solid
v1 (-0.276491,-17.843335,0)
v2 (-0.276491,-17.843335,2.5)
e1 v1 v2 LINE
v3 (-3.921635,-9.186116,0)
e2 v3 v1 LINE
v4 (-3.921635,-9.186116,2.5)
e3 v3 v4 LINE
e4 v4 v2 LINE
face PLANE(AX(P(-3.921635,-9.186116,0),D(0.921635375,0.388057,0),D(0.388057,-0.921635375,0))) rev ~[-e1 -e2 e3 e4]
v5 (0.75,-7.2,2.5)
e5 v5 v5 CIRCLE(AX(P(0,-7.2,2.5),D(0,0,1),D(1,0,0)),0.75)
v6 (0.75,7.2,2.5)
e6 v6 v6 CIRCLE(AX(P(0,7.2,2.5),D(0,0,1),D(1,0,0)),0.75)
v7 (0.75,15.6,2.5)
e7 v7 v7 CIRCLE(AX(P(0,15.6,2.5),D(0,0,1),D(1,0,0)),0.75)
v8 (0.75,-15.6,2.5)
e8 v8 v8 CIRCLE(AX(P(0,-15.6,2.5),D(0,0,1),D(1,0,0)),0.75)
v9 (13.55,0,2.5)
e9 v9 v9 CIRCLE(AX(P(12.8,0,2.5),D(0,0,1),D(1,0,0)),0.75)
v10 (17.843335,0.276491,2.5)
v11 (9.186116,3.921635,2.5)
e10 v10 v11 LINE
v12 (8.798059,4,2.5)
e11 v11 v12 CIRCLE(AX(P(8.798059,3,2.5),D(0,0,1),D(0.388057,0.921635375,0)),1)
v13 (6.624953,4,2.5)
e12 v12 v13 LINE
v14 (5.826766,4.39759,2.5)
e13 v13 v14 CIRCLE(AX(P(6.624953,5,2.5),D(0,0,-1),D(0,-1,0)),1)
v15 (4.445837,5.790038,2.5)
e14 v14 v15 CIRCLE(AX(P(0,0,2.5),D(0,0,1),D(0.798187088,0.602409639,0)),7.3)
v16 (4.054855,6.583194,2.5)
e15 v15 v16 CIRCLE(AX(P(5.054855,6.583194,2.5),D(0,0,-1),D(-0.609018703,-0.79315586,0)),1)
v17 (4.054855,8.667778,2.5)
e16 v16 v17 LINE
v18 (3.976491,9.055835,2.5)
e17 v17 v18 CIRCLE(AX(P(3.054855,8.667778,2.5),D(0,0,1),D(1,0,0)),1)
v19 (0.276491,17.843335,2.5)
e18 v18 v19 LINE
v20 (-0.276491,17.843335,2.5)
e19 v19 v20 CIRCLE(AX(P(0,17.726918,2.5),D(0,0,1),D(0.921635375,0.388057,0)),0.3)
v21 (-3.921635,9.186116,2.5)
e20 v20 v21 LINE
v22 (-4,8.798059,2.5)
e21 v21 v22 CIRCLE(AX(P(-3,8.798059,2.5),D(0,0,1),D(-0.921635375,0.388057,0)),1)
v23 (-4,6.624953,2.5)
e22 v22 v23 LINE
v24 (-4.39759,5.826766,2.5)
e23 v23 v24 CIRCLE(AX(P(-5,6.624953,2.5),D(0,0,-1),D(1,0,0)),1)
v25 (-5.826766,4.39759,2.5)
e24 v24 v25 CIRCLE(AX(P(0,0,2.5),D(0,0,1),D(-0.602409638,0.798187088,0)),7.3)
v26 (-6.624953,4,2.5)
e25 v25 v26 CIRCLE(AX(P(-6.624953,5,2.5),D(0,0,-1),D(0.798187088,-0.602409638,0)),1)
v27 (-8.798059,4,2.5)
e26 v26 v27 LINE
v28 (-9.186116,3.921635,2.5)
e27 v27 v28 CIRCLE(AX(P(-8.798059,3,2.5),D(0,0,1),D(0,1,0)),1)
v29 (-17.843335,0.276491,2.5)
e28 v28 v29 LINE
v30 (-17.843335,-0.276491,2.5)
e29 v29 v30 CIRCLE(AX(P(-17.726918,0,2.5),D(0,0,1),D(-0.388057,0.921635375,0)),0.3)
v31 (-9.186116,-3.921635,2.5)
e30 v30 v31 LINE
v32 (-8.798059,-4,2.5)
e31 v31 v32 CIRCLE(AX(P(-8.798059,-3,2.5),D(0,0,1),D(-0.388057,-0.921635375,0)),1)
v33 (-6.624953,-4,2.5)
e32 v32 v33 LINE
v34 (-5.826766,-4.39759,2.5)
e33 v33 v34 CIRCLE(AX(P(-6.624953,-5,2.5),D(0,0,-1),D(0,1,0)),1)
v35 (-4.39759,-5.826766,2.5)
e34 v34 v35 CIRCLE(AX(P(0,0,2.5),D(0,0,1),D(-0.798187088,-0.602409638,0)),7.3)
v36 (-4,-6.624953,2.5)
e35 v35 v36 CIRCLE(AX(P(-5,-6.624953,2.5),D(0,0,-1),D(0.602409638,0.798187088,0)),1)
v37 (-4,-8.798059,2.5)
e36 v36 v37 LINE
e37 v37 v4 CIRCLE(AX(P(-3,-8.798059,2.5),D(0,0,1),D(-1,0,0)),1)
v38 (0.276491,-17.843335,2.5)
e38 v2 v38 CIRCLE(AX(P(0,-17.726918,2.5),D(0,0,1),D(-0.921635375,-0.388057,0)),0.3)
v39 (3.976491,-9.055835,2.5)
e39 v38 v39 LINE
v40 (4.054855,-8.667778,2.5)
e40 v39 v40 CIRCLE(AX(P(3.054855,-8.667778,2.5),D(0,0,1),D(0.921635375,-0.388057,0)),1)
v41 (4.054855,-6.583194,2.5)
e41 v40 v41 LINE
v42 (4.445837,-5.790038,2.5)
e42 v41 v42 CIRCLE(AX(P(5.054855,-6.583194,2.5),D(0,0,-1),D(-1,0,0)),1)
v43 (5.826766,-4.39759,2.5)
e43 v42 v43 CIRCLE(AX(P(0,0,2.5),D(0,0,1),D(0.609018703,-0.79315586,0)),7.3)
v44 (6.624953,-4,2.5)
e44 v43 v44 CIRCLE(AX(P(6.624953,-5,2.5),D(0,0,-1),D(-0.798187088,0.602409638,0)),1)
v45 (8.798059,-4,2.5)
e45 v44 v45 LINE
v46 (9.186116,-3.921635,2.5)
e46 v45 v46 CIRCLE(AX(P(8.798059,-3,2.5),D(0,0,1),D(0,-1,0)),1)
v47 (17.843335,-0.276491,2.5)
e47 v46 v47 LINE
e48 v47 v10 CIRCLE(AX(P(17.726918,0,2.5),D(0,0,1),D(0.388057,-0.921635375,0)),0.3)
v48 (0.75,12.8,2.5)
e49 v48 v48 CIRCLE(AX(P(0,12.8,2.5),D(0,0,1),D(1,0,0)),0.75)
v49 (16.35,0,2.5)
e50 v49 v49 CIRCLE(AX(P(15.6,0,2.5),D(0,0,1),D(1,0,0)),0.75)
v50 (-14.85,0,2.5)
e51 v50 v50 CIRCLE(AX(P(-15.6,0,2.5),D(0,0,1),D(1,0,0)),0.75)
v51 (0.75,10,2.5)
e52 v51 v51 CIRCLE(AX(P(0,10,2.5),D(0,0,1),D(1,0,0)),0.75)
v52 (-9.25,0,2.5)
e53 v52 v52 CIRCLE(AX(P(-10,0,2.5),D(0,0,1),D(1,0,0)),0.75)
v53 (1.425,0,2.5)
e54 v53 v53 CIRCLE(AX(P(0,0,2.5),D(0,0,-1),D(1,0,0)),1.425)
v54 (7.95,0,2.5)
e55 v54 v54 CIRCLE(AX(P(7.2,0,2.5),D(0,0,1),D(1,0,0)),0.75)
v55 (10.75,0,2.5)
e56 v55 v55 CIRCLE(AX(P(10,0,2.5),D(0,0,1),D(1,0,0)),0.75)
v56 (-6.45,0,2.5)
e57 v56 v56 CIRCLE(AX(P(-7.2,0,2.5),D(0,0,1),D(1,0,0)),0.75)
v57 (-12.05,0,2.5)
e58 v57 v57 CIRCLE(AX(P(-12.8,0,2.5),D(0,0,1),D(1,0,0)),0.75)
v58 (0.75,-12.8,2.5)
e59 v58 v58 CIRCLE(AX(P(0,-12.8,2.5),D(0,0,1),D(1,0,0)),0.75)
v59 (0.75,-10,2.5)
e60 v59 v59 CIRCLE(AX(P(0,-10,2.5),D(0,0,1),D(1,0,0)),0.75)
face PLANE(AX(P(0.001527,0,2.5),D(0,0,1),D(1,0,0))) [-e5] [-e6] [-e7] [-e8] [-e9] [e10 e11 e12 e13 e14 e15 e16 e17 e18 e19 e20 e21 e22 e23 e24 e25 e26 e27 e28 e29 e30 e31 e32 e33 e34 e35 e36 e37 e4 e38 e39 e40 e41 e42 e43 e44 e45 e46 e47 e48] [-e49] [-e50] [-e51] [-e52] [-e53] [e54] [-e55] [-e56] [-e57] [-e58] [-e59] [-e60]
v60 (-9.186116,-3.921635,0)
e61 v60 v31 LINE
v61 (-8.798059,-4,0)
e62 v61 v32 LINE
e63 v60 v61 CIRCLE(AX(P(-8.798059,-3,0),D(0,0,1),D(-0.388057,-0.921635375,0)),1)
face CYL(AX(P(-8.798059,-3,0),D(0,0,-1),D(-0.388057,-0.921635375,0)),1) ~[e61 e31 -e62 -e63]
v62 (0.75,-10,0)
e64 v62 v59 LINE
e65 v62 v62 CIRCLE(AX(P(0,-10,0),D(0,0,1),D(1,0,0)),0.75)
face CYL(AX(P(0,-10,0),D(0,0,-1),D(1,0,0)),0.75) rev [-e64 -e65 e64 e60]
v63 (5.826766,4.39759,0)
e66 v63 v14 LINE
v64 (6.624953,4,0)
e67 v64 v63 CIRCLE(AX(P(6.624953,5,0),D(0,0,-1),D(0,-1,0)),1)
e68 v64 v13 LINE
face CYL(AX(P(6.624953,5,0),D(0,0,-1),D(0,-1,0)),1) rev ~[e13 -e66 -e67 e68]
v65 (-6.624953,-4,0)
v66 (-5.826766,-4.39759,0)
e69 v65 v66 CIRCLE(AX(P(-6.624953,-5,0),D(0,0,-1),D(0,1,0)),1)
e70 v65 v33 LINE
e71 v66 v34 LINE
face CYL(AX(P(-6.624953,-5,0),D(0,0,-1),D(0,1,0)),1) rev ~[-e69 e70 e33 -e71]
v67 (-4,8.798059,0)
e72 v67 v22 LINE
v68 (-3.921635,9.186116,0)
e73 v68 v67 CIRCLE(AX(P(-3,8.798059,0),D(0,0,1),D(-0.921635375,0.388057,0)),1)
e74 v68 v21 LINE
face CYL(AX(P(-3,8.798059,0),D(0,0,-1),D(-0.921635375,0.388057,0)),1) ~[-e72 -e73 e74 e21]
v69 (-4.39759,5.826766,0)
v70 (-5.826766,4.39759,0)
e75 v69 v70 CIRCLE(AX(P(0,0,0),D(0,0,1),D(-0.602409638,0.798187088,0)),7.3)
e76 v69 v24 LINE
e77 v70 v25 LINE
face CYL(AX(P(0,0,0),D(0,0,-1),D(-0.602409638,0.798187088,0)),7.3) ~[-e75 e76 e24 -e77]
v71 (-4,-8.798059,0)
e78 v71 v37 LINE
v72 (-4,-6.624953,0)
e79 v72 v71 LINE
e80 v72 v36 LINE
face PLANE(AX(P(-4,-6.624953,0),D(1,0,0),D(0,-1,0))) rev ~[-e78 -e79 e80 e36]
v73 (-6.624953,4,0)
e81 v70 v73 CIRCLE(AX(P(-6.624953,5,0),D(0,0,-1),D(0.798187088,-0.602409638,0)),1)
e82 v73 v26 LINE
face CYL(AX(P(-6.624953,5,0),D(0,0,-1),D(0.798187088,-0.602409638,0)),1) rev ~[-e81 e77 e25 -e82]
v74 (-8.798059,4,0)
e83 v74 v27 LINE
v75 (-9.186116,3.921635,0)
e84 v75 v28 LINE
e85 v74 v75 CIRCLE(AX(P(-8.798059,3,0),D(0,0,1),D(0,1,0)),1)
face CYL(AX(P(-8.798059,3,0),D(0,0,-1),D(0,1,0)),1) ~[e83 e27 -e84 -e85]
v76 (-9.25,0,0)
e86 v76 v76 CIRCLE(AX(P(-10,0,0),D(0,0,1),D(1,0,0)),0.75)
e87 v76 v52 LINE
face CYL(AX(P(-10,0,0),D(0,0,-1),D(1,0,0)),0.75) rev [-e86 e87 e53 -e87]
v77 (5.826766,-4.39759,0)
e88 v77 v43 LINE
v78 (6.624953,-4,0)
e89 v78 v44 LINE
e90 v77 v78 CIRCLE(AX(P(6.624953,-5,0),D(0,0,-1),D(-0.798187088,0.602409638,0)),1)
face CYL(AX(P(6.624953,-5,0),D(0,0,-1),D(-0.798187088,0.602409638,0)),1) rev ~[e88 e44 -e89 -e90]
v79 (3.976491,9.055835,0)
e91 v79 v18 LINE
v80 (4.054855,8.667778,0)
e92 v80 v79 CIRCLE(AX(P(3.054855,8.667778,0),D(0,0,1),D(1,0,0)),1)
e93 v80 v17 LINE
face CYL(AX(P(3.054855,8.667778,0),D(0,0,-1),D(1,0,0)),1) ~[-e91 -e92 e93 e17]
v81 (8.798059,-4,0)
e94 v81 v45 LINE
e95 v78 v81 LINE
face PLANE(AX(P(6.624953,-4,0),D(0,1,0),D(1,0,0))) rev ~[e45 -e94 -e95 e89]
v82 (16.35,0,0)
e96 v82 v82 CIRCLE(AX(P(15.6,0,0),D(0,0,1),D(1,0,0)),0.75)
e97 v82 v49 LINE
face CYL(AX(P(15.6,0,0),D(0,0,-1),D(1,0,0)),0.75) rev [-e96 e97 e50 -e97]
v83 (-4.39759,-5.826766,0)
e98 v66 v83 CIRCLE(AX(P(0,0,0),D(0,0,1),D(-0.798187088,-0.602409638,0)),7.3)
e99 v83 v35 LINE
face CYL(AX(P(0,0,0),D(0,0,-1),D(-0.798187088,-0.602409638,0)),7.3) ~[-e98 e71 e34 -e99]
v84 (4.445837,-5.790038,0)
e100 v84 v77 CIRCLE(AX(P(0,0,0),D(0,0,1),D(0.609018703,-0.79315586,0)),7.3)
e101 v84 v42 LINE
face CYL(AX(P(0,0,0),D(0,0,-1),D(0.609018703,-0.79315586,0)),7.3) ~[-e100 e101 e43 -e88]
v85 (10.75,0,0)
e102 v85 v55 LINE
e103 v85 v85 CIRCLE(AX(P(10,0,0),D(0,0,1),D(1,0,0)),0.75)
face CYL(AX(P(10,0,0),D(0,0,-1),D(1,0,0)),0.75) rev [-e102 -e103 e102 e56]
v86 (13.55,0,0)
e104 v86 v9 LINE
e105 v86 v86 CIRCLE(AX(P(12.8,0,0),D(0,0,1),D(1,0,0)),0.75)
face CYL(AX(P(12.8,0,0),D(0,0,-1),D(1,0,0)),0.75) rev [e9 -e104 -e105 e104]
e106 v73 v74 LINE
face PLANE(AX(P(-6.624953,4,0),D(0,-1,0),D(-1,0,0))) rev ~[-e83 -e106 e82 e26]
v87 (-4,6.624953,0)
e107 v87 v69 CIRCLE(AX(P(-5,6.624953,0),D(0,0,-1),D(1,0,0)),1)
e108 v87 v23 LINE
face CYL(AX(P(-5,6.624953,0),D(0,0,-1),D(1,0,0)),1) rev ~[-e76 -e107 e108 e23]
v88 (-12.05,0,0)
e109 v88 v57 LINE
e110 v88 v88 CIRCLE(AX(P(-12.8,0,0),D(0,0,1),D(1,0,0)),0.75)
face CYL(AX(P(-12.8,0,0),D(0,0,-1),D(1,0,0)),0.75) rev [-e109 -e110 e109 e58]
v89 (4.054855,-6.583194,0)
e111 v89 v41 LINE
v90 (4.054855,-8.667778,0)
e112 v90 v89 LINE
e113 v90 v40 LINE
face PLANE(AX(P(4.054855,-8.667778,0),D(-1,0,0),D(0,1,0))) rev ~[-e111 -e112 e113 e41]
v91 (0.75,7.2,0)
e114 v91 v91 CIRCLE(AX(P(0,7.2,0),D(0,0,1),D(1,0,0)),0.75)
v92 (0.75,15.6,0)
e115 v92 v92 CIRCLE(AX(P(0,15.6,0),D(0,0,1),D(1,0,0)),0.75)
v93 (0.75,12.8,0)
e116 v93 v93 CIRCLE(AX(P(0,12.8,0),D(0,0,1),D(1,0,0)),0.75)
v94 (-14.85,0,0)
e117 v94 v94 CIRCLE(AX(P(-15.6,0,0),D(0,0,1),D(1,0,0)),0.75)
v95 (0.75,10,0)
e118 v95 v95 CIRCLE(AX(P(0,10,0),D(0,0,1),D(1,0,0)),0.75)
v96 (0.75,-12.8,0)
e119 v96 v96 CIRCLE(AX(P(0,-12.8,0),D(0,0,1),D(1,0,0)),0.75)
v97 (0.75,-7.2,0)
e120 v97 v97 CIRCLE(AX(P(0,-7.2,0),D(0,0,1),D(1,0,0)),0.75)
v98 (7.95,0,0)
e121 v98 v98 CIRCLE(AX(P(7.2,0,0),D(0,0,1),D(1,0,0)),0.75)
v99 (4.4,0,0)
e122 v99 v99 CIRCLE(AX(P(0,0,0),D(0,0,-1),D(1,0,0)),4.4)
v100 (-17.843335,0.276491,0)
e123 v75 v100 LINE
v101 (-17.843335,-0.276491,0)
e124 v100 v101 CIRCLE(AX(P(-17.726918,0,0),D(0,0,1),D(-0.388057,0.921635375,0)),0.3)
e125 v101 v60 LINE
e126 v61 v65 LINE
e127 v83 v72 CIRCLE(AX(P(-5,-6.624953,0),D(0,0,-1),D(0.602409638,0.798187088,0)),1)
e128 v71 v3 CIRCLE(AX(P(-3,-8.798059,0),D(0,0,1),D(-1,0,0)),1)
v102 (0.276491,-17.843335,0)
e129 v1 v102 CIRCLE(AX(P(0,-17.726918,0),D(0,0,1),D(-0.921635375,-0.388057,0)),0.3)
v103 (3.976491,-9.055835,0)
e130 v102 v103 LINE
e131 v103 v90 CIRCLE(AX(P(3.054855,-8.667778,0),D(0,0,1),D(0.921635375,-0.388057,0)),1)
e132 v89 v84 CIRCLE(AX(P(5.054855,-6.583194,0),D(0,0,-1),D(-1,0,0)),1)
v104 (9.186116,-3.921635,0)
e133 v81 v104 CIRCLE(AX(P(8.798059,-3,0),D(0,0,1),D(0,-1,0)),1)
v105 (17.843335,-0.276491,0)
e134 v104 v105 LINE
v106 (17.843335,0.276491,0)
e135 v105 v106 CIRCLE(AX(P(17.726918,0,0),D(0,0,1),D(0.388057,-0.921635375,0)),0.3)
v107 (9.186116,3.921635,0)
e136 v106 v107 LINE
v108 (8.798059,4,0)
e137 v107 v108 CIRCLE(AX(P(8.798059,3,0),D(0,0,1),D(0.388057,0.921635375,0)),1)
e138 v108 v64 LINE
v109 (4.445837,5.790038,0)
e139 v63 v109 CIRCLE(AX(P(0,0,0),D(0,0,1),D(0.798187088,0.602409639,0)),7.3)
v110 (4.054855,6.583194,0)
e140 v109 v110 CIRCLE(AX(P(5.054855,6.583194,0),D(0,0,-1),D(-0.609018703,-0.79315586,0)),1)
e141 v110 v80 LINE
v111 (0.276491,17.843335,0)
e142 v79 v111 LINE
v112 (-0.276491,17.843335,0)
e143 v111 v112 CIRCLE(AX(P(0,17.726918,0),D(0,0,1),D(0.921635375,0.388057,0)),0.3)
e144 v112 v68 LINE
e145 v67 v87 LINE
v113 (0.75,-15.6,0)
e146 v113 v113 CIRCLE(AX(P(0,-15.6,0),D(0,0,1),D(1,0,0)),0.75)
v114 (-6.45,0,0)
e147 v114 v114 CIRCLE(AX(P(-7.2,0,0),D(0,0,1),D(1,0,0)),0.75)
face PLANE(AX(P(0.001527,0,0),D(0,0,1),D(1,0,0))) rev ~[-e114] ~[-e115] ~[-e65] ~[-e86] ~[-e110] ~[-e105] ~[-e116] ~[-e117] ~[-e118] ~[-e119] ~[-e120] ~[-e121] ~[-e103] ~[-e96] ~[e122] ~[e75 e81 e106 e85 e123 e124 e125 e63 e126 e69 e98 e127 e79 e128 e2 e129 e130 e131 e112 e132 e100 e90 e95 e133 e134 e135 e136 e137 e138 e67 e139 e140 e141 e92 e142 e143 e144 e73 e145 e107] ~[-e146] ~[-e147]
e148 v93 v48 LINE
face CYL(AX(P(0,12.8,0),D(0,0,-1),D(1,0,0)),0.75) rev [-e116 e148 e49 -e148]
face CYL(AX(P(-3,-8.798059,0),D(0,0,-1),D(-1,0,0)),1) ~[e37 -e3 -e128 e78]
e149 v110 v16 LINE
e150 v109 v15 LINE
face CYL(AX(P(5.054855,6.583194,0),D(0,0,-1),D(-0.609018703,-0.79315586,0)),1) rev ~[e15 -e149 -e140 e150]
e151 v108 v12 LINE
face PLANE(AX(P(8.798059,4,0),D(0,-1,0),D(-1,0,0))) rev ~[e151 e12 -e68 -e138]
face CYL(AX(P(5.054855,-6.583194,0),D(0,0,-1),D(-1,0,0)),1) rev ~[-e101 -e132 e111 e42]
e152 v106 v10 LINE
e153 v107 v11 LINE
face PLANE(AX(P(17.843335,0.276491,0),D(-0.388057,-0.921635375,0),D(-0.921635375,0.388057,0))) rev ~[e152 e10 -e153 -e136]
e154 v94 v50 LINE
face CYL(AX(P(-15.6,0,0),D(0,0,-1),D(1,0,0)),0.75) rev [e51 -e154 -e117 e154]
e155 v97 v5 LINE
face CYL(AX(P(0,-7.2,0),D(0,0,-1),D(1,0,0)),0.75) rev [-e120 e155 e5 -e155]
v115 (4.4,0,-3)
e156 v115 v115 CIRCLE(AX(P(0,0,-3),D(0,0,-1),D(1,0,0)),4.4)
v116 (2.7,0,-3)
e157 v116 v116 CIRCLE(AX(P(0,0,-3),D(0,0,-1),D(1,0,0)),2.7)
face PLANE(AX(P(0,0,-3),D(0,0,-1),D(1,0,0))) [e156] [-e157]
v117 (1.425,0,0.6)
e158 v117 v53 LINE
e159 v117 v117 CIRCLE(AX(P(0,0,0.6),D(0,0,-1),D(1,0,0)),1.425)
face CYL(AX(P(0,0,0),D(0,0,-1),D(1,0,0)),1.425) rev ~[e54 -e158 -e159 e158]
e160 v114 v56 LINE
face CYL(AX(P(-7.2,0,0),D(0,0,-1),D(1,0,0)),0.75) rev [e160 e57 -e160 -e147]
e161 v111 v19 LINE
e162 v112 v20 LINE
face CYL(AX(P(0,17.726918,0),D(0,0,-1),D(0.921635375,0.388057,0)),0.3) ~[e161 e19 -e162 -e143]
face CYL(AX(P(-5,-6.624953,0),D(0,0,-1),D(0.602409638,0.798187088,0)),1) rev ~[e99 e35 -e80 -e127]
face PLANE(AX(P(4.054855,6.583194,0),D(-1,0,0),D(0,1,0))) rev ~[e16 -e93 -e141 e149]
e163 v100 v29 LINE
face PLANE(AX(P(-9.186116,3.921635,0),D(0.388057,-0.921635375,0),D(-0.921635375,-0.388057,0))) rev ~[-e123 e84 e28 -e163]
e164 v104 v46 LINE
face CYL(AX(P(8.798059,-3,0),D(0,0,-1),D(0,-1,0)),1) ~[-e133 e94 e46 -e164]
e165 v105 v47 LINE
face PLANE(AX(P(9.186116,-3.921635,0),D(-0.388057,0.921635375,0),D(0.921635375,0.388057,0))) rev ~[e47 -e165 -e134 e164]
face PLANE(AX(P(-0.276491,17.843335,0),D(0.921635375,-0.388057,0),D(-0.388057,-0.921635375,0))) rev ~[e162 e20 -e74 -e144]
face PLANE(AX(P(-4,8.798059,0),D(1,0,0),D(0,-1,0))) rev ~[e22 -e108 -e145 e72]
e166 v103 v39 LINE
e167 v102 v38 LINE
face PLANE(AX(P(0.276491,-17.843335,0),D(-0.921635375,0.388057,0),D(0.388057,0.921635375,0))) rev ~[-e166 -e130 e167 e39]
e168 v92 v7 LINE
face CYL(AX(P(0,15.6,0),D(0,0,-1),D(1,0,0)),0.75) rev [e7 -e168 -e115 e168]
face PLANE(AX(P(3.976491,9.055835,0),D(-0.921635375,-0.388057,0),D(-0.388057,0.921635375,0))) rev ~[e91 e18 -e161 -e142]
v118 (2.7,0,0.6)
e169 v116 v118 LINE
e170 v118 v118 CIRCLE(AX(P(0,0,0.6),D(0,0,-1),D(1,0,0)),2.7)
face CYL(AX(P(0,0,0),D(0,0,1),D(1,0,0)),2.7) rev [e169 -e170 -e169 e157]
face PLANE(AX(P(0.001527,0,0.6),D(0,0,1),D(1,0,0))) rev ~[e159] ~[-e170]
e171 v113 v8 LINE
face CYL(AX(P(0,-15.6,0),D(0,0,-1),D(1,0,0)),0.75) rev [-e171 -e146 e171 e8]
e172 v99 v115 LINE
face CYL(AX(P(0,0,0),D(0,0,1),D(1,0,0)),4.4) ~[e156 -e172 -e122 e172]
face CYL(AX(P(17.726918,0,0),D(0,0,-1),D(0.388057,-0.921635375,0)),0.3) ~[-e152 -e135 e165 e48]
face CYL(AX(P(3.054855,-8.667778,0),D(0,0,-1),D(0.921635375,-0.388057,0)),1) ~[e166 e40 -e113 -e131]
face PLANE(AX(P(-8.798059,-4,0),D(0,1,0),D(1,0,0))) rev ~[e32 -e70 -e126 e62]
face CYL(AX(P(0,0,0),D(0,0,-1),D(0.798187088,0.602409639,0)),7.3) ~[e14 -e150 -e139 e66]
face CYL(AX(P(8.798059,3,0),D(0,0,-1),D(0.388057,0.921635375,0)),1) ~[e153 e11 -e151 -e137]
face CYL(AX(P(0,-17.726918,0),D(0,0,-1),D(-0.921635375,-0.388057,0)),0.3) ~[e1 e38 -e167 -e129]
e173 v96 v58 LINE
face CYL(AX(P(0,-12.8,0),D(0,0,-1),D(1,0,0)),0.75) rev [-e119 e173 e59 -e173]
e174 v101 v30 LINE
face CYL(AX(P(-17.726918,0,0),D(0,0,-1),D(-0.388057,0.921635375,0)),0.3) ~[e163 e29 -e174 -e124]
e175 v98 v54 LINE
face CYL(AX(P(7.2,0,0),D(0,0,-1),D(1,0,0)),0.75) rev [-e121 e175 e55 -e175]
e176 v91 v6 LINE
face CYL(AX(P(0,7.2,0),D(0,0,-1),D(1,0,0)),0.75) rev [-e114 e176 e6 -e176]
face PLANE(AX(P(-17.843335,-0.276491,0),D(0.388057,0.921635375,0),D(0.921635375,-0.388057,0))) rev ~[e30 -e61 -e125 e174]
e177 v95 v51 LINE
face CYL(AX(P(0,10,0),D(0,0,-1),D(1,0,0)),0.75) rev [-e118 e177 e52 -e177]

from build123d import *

# Parameters (mm, degrees)
F0_R     = 0.75
F1_DEPTH = 2.5
F2_R     = 4.4
F2_R_2   = 2.7
F3_DEPTH = 3
F4_R     = 1.425
F5_DEPTH = 25
F6_DEPTH = 0.6


with BuildPart() as f1:
    # F0 (on Top) → F1 (new body)
    with BuildSketch(Plane.XY):
        with BuildLine():
            ThreePointArc((6.62495283, 4), (6.1790882982, 4.1048995479), (5.8267657421, 4.3975903614))
            ThreePointArc((5.8267657421, 4.3975903614), (5.1832727919, 5.1403971796), (4.4458365341, 5.7900377816))
            ThreePointArc((4.4458365341, 5.7900377816), (4.1579107845, 6.1410503979), (4.0548552374, 6.5831936421))
            Line((4.0548552374, 6.5831936421), (4.0548552374, 8.6677777952))
            ThreePointArc((4.0548552374, 8.6677777952), (4.0350683201, 8.865723021), (3.9764906125, 9.0558347952))
            Line((3.9764906125, 9.0558347952), (0.2764906125, 17.8433347952))
            ThreePointArc((0.2764906125, 17.8433347952), (0, 18.0269176952), (-0.2764906125, 17.8433347952))
            Line((-0.2764906125, 17.8433347952), (-3.9216353751, 9.186115984))
            ThreePointArc((-3.9216353751, 9.186115984), (-3.9802130827, 8.9960042098), (-4, 8.798058984))
            Line((-4, 8.798058984), (-4, 6.62495283))
            ThreePointArc((-4, 6.62495283), (-4.1048995479, 6.1790882982), (-4.3975903614, 5.8267657421))
            ThreePointArc((-4.3975903614, 5.8267657421), (-5.1618795027, 5.1618795027), (-5.8267657421, 4.3975903614))
            ThreePointArc((-5.8267657421, 4.3975903614), (-6.1790882982, 4.1048995479), (-6.62495283, 4))
            Line((-6.62495283, 4), (-8.798058984, 4))
            ThreePointArc((-8.798058984, 4), (-8.9960042098, 3.9802130827), (-9.186115984, 3.9216353751))
            Line((-9.186115984, 3.9216353751), (-17.8433347952, 0.2764906125))
            ThreePointArc((-17.8433347952, 0.2764906125), (-18.0269176952, 0), (-17.8433347952, -0.2764906125))
            Line((-17.8433347952, -0.2764906125), (-9.186115984, -3.9216353751))
            ThreePointArc((-9.186115984, -3.9216353751), (-8.9960042098, -3.9802130827), (-8.798058984, -4))
            Line((-8.798058984, -4), (-6.62495283, -4))
            ThreePointArc((-6.62495283, -4), (-6.1790882982, -4.1048995479), (-5.8267657421, -4.3975903614))
            ThreePointArc((-5.8267657421, -4.3975903614), (-5.1618795027, -5.1618795027), (-4.3975903614, -5.8267657421))
            ThreePointArc((-4.3975903614, -5.8267657421), (-4.1048995479, -6.1790882982), (-4, -6.62495283))
            Line((-4, -6.62495283), (-4, -8.798058984))
            ThreePointArc((-4, -8.798058984), (-3.9802130827, -8.9960042098), (-3.9216353751, -9.186115984))
            Line((-3.9216353751, -9.186115984), (-0.2764906125, -17.8433347952))
            ThreePointArc((-0.2764906125, -17.8433347952), (0, -18.0269176952), (0.2764906125, -17.8433347952))
            Line((0.2764906125, -17.8433347952), (3.9764906125, -9.0558347952))
            ThreePointArc((3.9764906125, -9.0558347952), (4.0350683201, -8.865723021), (4.0548552374, -8.6677777952))
            Line((4.0548552374, -8.6677777952), (4.0548552374, -6.5831936421))
            ThreePointArc((4.0548552374, -6.5831936421), (4.1579107845, -6.1410503979), (4.4458365341, -5.7900377816))
            ThreePointArc((4.4458365341, -5.7900377816), (5.1832727919, -5.1403971796), (5.8267657421, -4.3975903614))
            ThreePointArc((5.8267657421, -4.3975903614), (6.1790882982, -4.1048995479), (6.62495283, -4))
            Line((6.62495283, -4), (8.798058984, -4))
            ThreePointArc((8.798058984, -4), (8.9960042098, -3.9802130827), (9.186115984, -3.9216353751))
            Line((9.186115984, -3.9216353751), (17.8433347952, -0.2764906125))
            ThreePointArc((17.8433347952, -0.2764906125), (18.0269176952, 0), (17.8433347952, 0.2764906125))
            Line((17.8433347952, 0.2764906125), (9.186115984, 3.9216353751))
            ThreePointArc((9.186115984, 3.9216353751), (8.9960042098, 3.9802130827), (8.798058984, 4))
            Line((8.798058984, 4), (6.62495283, 4))
        make_face()
        with Locations((0, -15.6)):
            Circle(F0_R, mode=Mode.SUBTRACT)
        with Locations((0, -12.8)):
            Circle(F0_R, mode=Mode.SUBTRACT)
        with Locations((0, -10)):
            Circle(F0_R, mode=Mode.SUBTRACT)
        with Locations((0, -7.2)):
            Circle(F0_R, mode=Mode.SUBTRACT)
        with Locations((-15.6, 0)):
            Circle(F0_R, mode=Mode.SUBTRACT)
        with Locations((-12.8, 0)):
            Circle(F0_R, mode=Mode.SUBTRACT)
        with Locations((-10, 0)):
            Circle(F0_R, mode=Mode.SUBTRACT)
        with Locations((-7.2, 0)):
            Circle(F0_R, mode=Mode.SUBTRACT)
        with Locations((7.2, 0)):
            Circle(F0_R, mode=Mode.SUBTRACT)
        with Locations((0, 7.2)):
            Circle(F0_R, mode=Mode.SUBTRACT)
        with Locations((10, 0)):
            Circle(F0_R, mode=Mode.SUBTRACT)
        with Locations((12.8, 0)):
            Circle(F0_R, mode=Mode.SUBTRACT)
        with Locations((15.6, 0)):
            Circle(F0_R, mode=Mode.SUBTRACT)
        with Locations((0, 10)):
            Circle(F0_R, mode=Mode.SUBTRACT)
        with Locations((0, 12.8)):
            Circle(F0_R, mode=Mode.SUBTRACT)
        with Locations((0, 15.6)):
            Circle(F0_R, mode=Mode.SUBTRACT)
    extrude(amount=F1_DEPTH)

    # F2 (on face) → F3 (join)
    with BuildSketch(Plane(origin=(0, 0, 0), x_dir=(1, 0, 0), z_dir=(0, 0, -1))):
        Circle(F2_R)
        Circle(F2_R_2, mode=Mode.SUBTRACT)
    extrude(amount=F3_DEPTH)

    # F4 (on face) → F5 (cut)
    with BuildSketch(Plane(origin=(0, 0, 0), x_dir=(1, 0, 0), z_dir=(0, 0, -1))):
        Circle(F4_R)
    extrude(amount=-F5_DEPTH, mode=Mode.SUBTRACT)

    # F6 (cut): a face of the model
    f6_faces = [f1.faces().sort_by_distance(p)[0] for p in [
        (-2.6236324676, 0, 0),
    ]]
    extrude(f6_faces, amount=-F6_DEPTH, mode=Mode.SUBTRACT)


solid = f1.part
